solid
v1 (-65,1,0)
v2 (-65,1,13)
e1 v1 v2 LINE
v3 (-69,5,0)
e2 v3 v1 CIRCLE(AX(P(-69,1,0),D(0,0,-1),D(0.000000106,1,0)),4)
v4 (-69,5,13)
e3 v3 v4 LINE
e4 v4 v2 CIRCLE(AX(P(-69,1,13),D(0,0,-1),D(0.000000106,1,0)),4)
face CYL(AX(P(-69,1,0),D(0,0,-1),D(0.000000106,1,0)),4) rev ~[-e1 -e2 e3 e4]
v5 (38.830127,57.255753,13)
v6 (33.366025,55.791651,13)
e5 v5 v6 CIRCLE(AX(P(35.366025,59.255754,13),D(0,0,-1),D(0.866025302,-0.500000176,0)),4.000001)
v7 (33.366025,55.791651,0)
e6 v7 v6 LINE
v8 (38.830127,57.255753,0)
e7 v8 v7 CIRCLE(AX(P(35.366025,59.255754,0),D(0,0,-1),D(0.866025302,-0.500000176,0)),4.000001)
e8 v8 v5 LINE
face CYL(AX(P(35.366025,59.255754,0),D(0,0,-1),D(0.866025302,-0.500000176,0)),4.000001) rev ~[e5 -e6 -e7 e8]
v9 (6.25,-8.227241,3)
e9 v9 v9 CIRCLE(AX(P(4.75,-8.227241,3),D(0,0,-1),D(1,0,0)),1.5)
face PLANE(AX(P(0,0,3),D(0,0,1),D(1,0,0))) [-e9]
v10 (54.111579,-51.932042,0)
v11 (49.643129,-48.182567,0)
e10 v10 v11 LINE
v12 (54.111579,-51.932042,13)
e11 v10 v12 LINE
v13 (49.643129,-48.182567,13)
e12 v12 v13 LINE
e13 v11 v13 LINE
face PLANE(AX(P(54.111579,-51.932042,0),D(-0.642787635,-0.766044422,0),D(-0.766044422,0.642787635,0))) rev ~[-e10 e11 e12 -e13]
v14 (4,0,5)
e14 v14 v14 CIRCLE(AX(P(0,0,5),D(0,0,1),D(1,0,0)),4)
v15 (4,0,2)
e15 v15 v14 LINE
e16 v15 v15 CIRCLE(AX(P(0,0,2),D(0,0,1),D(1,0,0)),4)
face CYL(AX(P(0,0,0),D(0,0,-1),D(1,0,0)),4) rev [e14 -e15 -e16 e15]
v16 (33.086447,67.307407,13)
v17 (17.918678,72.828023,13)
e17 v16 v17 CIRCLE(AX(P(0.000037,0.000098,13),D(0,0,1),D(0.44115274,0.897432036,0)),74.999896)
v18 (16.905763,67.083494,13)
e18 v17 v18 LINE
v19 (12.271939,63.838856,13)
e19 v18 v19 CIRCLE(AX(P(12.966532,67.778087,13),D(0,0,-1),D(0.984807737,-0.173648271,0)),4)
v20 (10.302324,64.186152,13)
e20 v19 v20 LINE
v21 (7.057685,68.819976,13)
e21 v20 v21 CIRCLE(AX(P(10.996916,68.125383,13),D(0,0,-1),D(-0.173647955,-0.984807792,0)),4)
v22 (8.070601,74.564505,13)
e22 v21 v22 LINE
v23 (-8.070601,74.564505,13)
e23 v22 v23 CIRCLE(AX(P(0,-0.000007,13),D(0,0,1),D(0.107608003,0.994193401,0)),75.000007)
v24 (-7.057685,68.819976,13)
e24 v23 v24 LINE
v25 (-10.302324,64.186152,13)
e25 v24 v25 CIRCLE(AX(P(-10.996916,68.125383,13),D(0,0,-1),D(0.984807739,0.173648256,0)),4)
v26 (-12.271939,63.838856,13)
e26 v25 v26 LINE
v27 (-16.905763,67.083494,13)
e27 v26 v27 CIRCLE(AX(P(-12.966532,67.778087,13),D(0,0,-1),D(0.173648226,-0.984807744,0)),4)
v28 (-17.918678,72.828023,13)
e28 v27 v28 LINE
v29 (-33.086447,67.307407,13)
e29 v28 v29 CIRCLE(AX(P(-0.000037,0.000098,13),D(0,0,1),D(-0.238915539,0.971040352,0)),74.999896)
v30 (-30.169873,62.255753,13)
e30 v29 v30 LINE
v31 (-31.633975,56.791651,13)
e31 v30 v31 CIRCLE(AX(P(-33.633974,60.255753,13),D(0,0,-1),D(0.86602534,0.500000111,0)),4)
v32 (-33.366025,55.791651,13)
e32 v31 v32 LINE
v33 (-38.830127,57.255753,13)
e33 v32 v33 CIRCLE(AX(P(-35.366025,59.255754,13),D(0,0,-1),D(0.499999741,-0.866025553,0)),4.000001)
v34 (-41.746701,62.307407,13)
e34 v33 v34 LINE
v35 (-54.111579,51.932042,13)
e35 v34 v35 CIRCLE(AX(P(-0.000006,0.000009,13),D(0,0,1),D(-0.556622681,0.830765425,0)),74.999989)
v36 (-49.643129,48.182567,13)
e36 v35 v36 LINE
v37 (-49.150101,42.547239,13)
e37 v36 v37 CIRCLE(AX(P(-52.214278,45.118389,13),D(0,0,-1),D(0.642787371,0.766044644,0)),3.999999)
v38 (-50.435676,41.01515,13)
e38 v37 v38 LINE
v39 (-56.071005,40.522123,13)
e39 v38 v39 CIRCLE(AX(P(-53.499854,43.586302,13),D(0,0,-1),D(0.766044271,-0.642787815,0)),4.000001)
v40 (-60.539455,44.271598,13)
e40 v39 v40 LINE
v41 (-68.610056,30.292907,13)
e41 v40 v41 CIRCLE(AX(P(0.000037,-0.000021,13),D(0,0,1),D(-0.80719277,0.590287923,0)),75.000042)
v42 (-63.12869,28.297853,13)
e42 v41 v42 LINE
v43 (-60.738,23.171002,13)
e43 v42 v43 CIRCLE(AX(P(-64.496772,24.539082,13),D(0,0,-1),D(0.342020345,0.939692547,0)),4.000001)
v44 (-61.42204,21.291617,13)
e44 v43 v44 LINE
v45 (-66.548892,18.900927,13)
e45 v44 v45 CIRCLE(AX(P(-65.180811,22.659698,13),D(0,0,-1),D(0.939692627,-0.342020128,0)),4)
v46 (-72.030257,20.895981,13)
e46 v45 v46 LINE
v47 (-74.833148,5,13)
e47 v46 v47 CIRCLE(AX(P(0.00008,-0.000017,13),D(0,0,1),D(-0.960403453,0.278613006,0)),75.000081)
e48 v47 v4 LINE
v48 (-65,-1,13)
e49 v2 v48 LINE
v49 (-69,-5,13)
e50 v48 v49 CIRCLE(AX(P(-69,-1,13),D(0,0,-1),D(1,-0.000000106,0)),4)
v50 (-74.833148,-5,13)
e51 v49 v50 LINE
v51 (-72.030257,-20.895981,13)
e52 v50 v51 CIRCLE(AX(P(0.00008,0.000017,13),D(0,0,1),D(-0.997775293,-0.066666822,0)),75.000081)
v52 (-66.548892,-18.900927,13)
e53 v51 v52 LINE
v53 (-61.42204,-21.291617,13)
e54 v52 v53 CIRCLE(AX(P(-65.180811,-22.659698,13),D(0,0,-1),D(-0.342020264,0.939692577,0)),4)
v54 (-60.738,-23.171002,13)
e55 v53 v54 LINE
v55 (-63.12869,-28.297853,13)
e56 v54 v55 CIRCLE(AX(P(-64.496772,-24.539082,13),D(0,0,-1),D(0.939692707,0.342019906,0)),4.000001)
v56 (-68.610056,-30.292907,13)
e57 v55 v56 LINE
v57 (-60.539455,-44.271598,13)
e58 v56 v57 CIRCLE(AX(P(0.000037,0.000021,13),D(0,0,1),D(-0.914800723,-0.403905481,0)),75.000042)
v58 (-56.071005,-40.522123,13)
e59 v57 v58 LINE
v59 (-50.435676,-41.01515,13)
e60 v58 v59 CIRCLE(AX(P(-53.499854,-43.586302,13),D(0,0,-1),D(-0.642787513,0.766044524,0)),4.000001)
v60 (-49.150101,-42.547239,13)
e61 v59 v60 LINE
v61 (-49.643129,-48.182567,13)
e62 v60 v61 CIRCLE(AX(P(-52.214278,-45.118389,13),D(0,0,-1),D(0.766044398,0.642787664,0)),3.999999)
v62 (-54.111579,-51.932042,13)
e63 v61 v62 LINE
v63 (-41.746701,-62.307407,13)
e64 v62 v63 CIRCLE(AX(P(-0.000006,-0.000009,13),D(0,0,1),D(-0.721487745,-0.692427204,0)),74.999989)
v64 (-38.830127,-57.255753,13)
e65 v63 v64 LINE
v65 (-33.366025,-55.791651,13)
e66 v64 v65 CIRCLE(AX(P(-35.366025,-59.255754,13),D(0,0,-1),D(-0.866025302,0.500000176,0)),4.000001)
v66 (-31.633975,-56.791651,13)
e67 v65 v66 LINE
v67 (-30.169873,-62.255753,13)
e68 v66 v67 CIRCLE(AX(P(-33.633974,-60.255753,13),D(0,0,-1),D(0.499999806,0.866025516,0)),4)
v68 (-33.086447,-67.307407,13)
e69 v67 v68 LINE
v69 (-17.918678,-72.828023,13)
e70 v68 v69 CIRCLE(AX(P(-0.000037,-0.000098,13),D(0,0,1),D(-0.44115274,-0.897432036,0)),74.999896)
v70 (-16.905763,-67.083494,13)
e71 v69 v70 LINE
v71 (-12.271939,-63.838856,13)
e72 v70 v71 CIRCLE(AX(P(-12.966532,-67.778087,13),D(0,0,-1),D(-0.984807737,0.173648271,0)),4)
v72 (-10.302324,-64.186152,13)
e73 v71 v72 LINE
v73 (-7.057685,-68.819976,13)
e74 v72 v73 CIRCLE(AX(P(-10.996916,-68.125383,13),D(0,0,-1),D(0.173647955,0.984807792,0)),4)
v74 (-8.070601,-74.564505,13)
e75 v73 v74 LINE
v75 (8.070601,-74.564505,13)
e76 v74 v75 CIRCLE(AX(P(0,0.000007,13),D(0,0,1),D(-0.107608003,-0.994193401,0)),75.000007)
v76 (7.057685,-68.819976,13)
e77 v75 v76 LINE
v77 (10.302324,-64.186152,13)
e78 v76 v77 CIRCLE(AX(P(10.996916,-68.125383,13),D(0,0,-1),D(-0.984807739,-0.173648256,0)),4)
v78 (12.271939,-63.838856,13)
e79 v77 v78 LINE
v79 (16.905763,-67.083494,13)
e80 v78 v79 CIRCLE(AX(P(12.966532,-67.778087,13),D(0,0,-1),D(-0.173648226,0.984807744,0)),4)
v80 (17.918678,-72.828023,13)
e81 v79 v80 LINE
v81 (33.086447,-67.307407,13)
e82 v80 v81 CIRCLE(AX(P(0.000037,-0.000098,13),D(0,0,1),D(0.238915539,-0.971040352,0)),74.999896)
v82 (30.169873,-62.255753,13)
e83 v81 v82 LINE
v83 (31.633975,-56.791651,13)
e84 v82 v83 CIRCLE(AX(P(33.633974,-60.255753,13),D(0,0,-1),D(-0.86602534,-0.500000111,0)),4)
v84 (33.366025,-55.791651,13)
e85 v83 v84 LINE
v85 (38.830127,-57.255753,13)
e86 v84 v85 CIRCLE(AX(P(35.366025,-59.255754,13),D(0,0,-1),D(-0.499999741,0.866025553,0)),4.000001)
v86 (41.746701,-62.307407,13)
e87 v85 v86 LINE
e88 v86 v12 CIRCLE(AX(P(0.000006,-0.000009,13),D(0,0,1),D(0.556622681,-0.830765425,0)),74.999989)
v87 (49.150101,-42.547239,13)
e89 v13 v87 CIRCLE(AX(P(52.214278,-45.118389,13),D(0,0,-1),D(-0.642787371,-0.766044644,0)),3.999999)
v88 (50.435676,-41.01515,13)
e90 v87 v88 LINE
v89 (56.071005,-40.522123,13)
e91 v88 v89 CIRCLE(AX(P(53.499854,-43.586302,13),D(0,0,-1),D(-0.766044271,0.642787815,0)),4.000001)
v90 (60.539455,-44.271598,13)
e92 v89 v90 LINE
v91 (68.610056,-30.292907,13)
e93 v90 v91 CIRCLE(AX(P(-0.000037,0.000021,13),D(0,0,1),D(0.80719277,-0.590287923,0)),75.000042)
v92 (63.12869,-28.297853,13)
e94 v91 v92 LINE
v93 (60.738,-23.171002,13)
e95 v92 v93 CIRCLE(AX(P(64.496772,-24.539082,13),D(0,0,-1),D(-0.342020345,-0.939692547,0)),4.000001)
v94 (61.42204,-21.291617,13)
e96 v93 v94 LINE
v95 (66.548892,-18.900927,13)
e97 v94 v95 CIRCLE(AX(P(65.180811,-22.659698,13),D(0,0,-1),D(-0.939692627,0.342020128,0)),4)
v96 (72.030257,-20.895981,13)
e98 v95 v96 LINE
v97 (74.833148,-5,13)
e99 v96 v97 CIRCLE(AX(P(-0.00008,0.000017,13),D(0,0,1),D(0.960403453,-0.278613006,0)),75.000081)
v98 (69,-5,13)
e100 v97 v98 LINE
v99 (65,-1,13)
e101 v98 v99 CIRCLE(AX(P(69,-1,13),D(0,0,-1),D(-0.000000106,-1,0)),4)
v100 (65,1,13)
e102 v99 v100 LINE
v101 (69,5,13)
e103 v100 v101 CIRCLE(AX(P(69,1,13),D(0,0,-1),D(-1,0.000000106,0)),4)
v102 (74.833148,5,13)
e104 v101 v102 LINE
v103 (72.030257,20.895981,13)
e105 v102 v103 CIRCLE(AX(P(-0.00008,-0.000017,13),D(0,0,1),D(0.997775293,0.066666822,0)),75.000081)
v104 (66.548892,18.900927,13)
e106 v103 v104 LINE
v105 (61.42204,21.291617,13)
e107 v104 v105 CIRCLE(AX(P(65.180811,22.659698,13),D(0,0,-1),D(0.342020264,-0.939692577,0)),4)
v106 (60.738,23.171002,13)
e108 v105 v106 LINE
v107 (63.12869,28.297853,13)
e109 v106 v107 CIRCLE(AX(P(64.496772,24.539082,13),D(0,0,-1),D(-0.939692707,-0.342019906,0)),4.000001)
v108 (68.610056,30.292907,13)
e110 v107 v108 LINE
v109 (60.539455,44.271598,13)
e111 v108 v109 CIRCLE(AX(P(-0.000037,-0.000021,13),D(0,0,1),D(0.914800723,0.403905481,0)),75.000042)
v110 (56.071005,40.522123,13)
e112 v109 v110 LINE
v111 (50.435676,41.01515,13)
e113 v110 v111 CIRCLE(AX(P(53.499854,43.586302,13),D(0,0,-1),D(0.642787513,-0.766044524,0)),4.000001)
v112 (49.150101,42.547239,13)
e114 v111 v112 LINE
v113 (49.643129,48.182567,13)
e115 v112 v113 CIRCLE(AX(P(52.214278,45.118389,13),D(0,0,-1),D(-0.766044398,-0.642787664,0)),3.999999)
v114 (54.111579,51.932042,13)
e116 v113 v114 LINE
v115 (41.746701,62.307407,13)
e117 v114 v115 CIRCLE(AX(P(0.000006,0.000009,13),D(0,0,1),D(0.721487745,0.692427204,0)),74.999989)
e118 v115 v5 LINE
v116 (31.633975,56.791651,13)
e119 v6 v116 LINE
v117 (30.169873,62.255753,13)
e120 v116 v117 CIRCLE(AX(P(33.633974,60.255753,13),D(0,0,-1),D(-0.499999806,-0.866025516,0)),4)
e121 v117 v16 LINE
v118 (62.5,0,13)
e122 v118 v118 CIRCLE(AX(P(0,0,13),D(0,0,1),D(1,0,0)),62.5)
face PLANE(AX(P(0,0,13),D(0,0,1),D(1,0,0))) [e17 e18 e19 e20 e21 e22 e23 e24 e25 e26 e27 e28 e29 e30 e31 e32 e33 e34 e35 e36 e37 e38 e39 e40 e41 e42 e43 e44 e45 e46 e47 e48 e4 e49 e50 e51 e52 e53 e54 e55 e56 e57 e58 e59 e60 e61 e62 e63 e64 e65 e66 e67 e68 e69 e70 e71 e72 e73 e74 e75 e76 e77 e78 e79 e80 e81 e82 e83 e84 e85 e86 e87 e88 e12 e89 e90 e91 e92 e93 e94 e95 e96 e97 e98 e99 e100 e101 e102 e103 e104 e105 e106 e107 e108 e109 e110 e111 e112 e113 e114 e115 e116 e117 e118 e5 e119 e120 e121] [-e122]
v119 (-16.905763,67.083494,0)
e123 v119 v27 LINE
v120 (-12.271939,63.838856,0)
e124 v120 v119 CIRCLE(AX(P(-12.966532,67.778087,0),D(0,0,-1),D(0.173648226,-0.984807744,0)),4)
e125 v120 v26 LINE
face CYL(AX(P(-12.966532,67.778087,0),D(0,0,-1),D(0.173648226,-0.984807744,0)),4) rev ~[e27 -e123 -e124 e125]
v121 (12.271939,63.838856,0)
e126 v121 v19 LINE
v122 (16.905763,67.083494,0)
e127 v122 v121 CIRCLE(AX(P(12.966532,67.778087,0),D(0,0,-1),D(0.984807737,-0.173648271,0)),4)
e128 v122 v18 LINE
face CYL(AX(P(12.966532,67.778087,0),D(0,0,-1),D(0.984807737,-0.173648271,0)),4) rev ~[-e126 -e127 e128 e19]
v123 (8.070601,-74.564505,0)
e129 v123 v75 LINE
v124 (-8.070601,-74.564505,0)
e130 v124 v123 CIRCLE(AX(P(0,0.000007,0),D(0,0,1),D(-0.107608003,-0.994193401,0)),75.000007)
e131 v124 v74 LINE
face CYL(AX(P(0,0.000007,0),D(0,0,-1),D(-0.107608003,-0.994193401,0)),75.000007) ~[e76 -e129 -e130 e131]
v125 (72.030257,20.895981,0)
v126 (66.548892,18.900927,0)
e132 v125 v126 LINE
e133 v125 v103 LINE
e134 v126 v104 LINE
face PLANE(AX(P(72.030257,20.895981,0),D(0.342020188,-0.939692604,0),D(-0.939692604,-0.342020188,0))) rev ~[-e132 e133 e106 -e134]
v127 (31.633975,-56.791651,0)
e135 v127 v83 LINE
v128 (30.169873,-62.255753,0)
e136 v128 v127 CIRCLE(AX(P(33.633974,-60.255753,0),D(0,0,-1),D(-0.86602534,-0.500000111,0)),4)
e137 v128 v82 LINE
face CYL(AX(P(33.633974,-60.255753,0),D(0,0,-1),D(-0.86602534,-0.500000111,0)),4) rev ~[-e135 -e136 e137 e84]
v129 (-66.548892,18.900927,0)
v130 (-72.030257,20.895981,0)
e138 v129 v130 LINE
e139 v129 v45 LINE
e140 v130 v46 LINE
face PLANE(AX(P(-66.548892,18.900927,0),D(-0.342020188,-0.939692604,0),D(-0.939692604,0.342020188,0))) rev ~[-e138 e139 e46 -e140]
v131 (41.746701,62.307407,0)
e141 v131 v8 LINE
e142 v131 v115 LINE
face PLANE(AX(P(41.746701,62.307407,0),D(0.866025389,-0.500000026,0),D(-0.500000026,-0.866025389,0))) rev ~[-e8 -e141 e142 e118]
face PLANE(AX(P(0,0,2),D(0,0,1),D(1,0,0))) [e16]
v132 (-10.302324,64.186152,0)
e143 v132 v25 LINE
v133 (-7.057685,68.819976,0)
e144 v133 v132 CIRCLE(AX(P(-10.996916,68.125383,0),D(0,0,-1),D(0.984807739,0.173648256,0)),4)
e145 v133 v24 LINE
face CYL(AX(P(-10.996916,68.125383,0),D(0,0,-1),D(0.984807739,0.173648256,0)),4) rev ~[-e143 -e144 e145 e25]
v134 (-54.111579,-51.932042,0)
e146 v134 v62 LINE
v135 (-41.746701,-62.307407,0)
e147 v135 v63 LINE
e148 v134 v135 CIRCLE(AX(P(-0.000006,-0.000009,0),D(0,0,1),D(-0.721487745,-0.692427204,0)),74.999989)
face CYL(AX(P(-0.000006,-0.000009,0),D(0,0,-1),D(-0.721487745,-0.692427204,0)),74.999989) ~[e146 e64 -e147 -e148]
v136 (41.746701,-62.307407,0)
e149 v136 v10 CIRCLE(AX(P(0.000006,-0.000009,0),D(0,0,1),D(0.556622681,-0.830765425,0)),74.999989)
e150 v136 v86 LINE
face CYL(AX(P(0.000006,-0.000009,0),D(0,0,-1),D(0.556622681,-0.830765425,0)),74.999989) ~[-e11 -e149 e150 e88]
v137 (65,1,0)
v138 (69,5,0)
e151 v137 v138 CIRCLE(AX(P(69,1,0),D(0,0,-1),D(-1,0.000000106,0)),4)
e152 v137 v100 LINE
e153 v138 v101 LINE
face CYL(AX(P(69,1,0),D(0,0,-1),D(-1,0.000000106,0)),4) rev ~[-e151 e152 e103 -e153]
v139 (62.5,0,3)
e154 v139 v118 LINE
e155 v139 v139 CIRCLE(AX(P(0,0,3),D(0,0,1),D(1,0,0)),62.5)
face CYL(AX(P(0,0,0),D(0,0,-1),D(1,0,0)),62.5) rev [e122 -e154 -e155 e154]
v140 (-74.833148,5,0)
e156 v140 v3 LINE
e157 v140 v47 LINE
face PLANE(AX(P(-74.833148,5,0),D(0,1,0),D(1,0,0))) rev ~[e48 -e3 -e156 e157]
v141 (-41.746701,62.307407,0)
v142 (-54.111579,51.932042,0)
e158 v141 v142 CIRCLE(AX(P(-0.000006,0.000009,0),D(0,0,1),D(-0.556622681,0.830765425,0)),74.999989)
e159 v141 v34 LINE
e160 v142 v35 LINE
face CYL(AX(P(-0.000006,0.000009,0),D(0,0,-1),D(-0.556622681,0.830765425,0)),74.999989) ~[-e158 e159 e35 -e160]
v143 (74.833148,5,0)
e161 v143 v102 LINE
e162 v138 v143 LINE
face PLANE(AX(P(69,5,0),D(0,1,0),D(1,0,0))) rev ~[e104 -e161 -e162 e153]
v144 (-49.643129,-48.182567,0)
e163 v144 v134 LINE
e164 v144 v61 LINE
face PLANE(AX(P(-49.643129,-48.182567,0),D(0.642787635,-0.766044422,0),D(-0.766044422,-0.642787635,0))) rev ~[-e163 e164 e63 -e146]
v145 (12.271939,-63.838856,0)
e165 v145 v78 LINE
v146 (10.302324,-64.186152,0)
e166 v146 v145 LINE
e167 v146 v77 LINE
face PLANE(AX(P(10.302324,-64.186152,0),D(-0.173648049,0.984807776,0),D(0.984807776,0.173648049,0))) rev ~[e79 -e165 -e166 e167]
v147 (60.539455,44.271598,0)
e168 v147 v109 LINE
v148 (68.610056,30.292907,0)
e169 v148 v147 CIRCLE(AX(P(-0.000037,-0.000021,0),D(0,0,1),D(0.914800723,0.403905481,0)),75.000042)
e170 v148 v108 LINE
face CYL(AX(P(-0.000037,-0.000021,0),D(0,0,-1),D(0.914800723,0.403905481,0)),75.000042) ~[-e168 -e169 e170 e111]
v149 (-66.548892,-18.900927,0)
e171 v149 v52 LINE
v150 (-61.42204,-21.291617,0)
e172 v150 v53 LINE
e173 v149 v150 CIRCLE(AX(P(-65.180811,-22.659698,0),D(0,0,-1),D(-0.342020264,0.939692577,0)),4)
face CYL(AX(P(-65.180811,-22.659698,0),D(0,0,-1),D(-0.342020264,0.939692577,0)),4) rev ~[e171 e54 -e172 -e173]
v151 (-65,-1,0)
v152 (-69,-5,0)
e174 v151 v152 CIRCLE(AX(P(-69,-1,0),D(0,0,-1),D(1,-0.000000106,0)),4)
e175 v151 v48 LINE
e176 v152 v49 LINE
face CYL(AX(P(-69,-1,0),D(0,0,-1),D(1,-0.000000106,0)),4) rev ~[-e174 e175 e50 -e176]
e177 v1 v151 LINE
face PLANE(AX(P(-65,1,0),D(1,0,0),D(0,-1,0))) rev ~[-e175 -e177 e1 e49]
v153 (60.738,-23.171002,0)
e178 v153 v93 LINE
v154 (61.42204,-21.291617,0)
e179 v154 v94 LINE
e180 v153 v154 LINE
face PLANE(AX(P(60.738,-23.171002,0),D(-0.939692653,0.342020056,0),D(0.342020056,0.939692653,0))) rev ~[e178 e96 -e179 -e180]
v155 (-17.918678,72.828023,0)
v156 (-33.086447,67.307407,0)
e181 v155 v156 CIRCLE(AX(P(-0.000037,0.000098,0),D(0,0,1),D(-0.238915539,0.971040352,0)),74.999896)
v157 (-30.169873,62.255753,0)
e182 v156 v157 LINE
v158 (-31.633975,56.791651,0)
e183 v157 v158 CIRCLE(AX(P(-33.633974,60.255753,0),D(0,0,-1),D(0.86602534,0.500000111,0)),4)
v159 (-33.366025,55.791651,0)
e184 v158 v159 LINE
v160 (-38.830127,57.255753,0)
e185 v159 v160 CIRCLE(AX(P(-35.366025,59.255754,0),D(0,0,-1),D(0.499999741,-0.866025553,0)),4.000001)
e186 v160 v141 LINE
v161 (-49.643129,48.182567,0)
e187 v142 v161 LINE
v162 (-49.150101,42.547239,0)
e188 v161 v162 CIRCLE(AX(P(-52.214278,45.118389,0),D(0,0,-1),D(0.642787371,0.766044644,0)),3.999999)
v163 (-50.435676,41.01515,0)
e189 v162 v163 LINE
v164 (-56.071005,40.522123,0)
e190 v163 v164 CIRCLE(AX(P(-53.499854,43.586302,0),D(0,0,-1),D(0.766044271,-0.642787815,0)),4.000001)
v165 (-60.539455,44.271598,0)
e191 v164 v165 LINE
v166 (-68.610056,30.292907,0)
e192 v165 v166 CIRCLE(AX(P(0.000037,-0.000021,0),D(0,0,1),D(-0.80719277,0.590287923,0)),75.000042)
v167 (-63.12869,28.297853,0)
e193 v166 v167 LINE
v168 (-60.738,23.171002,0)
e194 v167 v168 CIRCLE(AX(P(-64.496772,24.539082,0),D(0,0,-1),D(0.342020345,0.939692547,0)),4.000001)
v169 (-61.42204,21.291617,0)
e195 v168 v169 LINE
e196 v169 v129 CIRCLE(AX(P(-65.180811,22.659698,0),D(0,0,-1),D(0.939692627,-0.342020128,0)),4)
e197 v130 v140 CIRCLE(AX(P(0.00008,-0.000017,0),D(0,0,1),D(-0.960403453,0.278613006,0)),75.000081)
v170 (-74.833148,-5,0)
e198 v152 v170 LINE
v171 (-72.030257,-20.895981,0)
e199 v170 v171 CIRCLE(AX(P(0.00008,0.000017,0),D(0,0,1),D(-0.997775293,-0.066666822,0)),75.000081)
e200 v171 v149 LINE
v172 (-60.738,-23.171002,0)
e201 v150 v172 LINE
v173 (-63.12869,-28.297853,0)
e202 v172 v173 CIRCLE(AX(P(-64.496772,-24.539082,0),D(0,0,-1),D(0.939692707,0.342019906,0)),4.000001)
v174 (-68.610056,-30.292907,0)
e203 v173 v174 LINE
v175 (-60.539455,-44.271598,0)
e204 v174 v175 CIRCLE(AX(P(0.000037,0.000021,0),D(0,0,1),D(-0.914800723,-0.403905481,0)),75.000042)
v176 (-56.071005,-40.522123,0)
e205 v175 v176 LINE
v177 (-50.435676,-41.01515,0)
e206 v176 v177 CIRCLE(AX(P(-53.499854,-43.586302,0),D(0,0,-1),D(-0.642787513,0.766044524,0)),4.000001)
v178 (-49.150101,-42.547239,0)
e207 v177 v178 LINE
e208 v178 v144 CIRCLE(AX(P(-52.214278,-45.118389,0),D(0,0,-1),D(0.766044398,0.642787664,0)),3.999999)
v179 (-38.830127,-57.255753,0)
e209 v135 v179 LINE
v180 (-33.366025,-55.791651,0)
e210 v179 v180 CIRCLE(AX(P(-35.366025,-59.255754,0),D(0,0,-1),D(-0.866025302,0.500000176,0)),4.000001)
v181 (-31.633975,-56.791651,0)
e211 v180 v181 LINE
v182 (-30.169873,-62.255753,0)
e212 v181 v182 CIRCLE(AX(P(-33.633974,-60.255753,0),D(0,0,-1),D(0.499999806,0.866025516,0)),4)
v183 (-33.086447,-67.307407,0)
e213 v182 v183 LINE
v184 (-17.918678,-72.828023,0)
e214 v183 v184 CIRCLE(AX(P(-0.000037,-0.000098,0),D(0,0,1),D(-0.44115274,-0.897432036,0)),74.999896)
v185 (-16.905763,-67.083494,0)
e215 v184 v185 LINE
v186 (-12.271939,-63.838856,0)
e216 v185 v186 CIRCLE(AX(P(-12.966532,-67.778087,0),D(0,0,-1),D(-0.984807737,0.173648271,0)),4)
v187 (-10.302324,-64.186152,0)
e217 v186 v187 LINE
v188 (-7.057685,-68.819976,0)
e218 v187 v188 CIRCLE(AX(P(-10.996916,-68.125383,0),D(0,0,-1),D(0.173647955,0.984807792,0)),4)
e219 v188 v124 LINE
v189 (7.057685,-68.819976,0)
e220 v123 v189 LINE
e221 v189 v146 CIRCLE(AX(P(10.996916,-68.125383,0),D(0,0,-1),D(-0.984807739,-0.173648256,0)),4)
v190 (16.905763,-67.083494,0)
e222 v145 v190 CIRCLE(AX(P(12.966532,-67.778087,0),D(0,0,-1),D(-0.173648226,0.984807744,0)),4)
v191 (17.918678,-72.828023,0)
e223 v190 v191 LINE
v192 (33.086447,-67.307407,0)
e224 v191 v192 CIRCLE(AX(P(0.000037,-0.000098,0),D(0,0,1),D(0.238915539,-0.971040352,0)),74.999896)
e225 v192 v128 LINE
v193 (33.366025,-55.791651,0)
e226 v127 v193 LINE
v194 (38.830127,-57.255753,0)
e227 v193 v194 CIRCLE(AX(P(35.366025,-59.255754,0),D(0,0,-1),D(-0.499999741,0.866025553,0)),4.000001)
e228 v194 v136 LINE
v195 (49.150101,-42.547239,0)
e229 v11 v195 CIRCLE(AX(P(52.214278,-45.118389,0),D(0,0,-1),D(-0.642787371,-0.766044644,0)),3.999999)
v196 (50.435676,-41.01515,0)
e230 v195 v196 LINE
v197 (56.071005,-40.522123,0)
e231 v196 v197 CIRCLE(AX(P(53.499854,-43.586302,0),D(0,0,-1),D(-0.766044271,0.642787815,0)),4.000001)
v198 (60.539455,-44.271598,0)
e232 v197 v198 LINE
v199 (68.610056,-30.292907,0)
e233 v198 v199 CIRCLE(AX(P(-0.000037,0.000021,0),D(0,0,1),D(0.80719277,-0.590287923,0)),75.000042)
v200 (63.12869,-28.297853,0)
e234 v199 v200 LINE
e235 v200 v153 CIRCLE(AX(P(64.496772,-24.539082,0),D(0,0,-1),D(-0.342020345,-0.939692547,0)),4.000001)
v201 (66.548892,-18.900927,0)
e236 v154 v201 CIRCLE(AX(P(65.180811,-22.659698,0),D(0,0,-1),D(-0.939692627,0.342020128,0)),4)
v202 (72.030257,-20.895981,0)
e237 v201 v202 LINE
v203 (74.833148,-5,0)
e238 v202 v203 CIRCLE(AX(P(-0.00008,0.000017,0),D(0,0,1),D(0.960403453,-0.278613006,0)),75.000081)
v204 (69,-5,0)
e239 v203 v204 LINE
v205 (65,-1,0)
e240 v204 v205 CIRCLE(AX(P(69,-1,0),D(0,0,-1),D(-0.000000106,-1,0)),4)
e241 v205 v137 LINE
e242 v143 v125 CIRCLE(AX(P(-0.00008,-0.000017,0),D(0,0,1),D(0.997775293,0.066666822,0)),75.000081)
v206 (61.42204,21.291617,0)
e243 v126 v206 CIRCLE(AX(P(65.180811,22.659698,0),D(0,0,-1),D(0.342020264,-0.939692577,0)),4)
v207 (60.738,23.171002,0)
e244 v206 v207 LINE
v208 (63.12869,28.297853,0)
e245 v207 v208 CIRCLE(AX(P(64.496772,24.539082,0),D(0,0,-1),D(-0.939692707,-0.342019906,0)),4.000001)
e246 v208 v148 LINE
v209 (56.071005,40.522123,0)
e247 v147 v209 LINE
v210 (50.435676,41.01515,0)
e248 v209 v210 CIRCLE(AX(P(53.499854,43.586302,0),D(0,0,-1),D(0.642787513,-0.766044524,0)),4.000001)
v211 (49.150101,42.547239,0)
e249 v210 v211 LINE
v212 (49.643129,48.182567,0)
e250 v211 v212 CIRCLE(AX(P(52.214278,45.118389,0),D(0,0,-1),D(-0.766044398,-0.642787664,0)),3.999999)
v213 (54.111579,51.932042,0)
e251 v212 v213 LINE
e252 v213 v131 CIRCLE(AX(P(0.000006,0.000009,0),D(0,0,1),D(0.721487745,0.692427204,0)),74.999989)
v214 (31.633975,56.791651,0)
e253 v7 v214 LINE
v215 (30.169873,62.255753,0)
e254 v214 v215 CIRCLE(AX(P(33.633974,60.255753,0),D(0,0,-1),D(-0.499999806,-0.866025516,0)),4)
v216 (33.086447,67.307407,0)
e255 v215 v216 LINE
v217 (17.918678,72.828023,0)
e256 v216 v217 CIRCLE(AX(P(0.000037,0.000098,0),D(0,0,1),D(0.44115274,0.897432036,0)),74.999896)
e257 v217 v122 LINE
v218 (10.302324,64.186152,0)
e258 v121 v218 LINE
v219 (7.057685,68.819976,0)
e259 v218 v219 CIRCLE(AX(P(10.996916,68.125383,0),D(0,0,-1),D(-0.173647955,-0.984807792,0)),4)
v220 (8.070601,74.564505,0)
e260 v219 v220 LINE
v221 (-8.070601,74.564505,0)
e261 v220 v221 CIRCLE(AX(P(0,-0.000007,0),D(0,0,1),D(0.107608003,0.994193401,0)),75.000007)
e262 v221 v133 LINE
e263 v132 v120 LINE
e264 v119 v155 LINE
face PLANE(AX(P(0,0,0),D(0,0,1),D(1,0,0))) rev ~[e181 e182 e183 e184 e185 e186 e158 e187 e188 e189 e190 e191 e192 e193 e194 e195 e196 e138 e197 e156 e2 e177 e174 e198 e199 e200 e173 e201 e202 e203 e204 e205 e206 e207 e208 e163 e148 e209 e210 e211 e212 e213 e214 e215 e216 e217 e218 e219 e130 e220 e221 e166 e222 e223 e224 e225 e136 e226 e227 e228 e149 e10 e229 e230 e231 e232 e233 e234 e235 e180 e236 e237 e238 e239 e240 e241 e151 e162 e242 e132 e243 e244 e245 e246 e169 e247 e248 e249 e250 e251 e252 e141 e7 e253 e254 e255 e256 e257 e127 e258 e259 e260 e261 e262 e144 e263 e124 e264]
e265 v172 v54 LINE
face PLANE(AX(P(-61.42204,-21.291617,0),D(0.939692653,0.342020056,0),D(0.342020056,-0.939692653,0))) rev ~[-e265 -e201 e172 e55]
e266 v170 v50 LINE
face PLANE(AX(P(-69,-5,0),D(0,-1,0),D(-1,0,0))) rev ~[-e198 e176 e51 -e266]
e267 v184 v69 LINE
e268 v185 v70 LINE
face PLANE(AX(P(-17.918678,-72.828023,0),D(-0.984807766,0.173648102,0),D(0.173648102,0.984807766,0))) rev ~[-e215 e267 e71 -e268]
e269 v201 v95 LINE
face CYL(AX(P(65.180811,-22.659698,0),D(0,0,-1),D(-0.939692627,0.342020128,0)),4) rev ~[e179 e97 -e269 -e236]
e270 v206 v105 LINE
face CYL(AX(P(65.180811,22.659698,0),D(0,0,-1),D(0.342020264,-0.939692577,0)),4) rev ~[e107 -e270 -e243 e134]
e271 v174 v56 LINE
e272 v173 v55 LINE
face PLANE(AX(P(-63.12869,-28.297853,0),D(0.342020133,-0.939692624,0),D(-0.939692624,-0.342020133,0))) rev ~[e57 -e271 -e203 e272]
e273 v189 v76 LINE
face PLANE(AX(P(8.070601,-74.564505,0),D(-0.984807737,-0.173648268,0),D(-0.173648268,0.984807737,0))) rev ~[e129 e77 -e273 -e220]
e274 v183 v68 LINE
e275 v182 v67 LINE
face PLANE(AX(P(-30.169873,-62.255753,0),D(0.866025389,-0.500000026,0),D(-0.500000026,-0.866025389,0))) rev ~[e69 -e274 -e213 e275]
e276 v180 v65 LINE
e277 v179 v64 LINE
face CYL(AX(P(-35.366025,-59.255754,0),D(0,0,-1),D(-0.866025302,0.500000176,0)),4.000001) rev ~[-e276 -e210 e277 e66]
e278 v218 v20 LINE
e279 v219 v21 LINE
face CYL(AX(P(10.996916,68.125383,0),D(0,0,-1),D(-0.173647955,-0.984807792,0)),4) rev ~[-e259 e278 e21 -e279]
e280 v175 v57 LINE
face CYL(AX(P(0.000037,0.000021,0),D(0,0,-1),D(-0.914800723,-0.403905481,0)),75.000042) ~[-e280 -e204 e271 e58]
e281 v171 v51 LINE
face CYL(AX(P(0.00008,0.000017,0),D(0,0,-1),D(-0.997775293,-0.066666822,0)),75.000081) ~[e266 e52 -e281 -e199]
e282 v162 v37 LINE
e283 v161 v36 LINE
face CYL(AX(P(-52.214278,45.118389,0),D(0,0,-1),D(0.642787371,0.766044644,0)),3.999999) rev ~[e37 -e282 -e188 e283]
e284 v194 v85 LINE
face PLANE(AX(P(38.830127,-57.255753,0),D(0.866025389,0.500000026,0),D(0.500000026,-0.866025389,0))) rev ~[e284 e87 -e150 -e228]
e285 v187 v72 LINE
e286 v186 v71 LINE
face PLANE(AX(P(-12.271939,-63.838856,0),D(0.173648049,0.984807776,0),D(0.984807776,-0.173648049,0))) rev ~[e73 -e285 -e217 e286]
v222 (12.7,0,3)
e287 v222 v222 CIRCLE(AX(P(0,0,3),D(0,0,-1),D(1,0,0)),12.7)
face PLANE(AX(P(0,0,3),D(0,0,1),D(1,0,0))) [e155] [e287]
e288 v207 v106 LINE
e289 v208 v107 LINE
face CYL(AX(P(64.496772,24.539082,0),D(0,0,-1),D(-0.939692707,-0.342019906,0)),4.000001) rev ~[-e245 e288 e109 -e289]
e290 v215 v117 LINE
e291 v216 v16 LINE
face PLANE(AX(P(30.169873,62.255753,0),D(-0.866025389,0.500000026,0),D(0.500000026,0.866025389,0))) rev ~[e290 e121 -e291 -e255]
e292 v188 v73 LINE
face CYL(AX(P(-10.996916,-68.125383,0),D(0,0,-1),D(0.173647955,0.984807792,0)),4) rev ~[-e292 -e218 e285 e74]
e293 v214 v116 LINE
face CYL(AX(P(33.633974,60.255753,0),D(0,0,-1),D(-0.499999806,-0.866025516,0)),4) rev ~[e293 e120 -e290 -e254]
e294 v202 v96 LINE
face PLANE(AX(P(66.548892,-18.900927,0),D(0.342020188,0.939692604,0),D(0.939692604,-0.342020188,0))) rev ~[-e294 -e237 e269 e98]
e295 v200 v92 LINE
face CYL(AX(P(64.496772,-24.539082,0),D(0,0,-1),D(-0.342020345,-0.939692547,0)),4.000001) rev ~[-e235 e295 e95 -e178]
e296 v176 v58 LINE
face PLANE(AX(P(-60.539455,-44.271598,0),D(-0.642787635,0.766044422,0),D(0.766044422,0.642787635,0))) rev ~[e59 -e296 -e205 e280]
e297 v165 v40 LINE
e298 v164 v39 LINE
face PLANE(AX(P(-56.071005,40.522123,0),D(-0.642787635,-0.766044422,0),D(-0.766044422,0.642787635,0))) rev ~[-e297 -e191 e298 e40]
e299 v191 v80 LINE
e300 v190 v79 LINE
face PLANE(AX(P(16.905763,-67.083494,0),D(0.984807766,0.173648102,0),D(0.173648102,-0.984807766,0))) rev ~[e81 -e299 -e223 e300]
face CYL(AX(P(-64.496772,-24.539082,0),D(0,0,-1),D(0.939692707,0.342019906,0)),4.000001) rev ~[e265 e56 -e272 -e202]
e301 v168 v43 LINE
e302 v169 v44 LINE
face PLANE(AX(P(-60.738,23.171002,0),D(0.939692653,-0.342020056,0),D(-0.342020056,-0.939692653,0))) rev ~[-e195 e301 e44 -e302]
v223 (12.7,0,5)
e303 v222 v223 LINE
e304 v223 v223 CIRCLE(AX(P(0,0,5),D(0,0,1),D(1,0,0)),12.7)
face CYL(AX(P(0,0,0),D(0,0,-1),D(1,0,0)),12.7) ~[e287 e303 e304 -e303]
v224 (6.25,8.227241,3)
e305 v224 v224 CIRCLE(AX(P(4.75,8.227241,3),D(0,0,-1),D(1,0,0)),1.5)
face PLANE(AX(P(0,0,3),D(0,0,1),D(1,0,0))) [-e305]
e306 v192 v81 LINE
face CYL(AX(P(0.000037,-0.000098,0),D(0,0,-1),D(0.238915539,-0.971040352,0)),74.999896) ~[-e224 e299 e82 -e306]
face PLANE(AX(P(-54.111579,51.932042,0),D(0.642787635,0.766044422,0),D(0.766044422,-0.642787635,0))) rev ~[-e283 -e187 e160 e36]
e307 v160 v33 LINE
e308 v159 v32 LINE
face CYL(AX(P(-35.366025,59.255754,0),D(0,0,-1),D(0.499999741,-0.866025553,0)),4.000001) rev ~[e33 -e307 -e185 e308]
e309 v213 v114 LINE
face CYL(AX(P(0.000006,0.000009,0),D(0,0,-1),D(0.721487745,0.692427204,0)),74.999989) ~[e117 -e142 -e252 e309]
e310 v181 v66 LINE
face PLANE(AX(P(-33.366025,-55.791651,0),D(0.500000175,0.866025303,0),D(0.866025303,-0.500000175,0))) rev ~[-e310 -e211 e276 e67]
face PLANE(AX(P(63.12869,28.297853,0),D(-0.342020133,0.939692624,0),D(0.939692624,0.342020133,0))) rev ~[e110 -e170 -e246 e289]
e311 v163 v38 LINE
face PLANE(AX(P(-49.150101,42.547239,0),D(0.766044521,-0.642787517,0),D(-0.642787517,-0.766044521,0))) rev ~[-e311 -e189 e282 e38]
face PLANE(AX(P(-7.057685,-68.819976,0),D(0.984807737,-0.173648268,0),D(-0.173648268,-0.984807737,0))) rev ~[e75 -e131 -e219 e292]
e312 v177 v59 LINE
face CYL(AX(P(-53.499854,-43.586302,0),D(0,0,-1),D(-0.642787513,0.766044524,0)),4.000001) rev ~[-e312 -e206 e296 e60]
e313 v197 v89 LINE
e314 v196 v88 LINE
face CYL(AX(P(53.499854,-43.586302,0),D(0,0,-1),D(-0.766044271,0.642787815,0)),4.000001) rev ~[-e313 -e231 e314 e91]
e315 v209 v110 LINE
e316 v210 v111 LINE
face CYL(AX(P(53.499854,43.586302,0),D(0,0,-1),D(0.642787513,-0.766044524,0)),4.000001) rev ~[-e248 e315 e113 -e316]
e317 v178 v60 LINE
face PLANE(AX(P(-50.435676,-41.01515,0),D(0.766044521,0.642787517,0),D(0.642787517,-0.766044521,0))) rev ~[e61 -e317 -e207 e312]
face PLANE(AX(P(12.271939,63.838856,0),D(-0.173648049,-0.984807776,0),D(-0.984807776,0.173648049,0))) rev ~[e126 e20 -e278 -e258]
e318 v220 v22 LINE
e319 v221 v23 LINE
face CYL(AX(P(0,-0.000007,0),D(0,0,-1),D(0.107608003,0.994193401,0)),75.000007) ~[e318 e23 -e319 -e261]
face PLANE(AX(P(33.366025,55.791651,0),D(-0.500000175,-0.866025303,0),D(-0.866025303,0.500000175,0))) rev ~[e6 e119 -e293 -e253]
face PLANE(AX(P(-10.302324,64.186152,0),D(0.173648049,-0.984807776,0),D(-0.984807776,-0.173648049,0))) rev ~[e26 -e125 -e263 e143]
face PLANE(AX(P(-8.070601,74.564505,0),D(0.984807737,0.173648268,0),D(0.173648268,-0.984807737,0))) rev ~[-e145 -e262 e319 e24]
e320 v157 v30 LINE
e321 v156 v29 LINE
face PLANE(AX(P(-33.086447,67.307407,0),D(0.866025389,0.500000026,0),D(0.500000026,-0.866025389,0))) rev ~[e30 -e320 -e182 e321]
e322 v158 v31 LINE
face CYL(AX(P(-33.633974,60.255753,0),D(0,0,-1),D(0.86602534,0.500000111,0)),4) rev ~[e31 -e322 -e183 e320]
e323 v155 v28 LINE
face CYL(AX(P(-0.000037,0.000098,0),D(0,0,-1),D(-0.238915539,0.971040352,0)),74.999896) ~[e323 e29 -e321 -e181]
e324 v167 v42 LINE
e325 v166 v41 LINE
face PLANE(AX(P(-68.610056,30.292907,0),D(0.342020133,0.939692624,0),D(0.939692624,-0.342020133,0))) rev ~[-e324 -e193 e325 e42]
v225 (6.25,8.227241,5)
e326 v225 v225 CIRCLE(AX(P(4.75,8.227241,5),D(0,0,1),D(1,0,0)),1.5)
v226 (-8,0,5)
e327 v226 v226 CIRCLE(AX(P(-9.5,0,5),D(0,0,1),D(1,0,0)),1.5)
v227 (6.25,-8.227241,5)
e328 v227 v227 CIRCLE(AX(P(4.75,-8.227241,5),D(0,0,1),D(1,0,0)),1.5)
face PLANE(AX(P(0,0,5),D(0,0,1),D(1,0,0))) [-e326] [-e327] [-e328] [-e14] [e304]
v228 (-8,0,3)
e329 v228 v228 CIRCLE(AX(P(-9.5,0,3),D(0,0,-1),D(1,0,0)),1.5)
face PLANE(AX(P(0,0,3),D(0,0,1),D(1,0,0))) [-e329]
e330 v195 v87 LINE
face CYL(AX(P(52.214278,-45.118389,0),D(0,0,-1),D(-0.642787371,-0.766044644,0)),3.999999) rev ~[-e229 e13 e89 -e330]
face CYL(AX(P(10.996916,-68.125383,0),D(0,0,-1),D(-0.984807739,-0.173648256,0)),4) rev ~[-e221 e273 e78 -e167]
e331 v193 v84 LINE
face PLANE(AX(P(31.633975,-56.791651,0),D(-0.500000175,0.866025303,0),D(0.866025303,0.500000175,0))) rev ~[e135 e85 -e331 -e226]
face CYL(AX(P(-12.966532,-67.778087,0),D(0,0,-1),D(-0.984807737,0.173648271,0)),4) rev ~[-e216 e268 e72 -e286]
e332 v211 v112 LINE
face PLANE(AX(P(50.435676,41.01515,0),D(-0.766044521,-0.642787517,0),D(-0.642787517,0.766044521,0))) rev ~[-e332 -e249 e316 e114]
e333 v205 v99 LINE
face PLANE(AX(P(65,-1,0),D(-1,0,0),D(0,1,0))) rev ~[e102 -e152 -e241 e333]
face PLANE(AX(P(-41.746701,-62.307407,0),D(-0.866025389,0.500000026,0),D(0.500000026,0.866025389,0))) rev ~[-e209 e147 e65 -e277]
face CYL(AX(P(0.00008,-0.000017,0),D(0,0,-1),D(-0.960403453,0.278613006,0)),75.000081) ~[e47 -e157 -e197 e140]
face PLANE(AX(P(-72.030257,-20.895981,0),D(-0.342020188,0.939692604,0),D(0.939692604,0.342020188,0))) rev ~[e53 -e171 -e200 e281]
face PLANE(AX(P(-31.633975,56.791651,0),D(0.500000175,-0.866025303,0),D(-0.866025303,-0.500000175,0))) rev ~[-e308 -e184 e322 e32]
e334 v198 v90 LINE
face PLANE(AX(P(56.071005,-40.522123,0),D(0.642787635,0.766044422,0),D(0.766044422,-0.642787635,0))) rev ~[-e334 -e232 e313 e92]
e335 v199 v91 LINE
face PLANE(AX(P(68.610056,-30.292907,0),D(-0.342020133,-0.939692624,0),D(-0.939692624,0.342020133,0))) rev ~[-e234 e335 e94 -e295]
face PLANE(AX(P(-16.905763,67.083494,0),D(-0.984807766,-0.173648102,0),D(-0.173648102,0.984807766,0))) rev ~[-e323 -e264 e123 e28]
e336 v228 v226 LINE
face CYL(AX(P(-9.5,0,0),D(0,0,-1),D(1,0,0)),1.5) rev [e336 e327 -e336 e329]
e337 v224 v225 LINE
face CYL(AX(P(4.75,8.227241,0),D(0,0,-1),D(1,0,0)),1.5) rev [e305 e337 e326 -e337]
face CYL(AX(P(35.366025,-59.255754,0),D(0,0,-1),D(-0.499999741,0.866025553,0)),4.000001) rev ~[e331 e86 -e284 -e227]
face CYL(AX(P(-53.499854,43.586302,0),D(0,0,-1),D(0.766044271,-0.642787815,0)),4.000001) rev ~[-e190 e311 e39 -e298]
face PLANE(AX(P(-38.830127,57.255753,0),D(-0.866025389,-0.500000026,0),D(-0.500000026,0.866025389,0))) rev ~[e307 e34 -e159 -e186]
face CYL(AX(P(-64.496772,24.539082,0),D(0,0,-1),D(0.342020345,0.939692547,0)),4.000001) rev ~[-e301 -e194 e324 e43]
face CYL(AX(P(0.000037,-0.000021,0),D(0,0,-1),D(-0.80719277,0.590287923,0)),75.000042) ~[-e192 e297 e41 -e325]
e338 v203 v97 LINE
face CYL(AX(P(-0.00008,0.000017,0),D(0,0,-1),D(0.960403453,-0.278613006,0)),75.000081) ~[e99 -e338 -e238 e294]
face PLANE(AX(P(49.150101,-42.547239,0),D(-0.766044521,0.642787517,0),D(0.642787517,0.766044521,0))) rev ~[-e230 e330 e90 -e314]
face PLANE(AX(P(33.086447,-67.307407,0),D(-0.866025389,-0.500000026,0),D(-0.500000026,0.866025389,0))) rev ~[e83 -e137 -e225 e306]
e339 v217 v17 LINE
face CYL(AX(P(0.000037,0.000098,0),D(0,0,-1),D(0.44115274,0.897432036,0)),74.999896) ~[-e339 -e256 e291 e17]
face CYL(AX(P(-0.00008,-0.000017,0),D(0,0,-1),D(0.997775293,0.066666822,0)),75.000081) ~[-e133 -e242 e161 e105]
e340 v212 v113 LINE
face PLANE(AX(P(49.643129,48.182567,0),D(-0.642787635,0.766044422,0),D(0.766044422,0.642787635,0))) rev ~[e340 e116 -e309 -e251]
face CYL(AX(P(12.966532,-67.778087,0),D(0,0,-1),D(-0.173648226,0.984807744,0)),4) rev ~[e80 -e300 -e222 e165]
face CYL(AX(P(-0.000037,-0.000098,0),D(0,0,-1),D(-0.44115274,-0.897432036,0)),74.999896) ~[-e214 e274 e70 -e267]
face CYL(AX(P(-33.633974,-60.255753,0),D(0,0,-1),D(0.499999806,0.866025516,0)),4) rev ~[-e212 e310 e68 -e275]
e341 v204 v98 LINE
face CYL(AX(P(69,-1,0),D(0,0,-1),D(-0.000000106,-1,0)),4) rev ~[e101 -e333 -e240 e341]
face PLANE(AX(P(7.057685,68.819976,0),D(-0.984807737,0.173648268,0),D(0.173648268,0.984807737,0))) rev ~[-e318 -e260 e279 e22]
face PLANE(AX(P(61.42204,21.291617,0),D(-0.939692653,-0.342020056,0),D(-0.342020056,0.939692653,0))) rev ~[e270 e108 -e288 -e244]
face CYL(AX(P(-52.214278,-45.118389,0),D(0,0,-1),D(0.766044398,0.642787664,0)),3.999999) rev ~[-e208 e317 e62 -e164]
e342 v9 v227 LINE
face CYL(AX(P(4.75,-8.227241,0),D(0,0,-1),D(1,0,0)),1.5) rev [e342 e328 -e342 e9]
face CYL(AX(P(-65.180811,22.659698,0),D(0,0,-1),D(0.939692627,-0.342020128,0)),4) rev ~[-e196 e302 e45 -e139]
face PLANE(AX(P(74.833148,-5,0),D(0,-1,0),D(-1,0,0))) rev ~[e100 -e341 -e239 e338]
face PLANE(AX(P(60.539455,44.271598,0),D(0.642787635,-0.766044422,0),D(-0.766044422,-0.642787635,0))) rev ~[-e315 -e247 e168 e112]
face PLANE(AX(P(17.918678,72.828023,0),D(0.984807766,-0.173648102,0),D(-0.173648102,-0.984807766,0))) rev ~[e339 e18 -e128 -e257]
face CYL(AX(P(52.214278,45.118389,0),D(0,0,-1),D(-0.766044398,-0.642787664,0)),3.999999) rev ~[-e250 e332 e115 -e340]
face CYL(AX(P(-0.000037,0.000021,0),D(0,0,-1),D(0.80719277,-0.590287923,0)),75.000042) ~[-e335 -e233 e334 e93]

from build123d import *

# Parameters (mm, degrees)
F0_R     = 62.5
F0_R_2   = 12.7
F0_R_3   = 1.5
F0_R_4   = 4
F1_DEPTH = 3
F2_DEPTH = 13
F3_DEPTH = 5
F4_DEPTH = 2


with BuildPart() as f1:
    # F0 (on Top) → F1 (new body)
    with BuildSketch(Plane.XY):
        Circle(F0_R)
        Circle(F0_R_2, mode=Mode.SUBTRACT)
        Circle(F0_R_2)
        with Locations((-4.75, -8.227241)):
            Circle(F0_R_3, mode=Mode.SUBTRACT)
        with Locations((4.75, -8.227241)):
            Circle(F0_R_3, mode=Mode.SUBTRACT)
        with Locations((-9.5, 0)):
            Circle(F0_R_3, mode=Mode.SUBTRACT)
        with Locations((-4.75, 8.227241)):
            Circle(F0_R_3, mode=Mode.SUBTRACT)
        Circle(F0_R_4, mode=Mode.SUBTRACT)
        with Locations((4.75, 8.227241)):
            Circle(F0_R_3, mode=Mode.SUBTRACT)
        with Locations((9.5, 0)):
            Circle(F0_R_3, mode=Mode.SUBTRACT)
        with Locations((9.5, 0)):
            Circle(F0_R_3)
        with Locations((4.75, 8.227241)):
            Circle(F0_R_3)
        with Locations((-4.75, 8.227241)):
            Circle(F0_R_3)
        with Locations((-9.5, 0)):
            Circle(F0_R_3)
        with Locations((-4.75, -8.227241)):
            Circle(F0_R_3)
        with Locations((4.75, -8.227241)):
            Circle(F0_R_3)
    extrude(amount=F1_DEPTH)

    # F0 (on Top) → F2 (join)
    with BuildSketch(Plane.XY):
        with BuildLine():
            Line((69, 5), (74.833148, 5))
            ThreePointArc((74.833148, 5), (73.860581, 13.023613), (72.030257, 20.895981))
            Line((72.030257, 20.895981), (66.548892, 18.900927))
            ThreePointArc((66.548892, 18.900927), (63.490338, 19.034466), (61.42204, 21.291617))
            Line((61.42204, 21.291617), (60.738, 23.171002))
            ThreePointArc((60.738, 23.171002), (60.87154, 26.229556), (63.12869, 28.297853))
            Line((63.12869, 28.297853), (68.610056, 30.292907))
            ThreePointArc((68.610056, 30.292907), (64.951905, 37.5), (60.539455, 44.271598))
            Line((60.539455, 44.271598), (56.071005, 40.522123))
            ThreePointArc((56.071005, 40.522123), (53.151231, 39.601522), (50.435676, 41.01515))
            Line((50.435676, 41.01515), (49.150101, 42.547239))
            ThreePointArc((49.150101, 42.547239), (48.2295, 45.467012), (49.643129, 48.182567))
            Line((49.643129, 48.182567), (54.111579, 51.932042))
            ThreePointArc((54.111579, 51.932042), (48.209071, 57.453333), (41.746701, 62.307407))
            Line((41.746701, 62.307407), (38.830127, 57.255753))
            ThreePointArc((38.830127, 57.255753), (36.401302, 55.39205), (33.366025, 55.791651))
            Line((33.366025, 55.791651), (31.633975, 56.791651))
            ThreePointArc((31.633975, 56.791651), (29.770271, 59.220477), (30.169873, 62.255753))
            Line((30.169873, 62.255753), (33.086447, 67.307407))
            ThreePointArc((33.086447, 67.307407), (25.651511, 70.476947), (17.918678, 72.828023))
            Line((17.918678, 72.828023), (16.905763, 67.083494))
            ThreePointArc((16.905763, 67.083494), (15.260838, 64.501479), (12.271939, 63.838856))
            Line((12.271939, 63.838856), (10.302324, 64.186152))
            ThreePointArc((10.302324, 64.186152), (7.720308, 65.831077), (7.057685, 68.819976))
            Line((7.057685, 68.819976), (8.070601, 74.564505))
            ThreePointArc((8.070601, 74.564505), (0, 75), (-8.070601, 74.564505))
            Line((-8.070601, 74.564505), (-7.057685, 68.819976))
            ThreePointArc((-7.057685, 68.819976), (-7.720308, 65.831077), (-10.302324, 64.186152))
            Line((-10.302324, 64.186152), (-12.271939, 63.838856))
            ThreePointArc((-12.271939, 63.838856), (-15.260838, 64.501479), (-16.905763, 67.083494))
            Line((-16.905763, 67.083494), (-17.918678, 72.828023))
            ThreePointArc((-17.918678, 72.828023), (-25.651511, 70.476947), (-33.086447, 67.307407))
            Line((-33.086447, 67.307407), (-30.169873, 62.255753))
            ThreePointArc((-30.169873, 62.255753), (-29.770271, 59.220477), (-31.633975, 56.791651))
            Line((-31.633975, 56.791651), (-33.366025, 55.791651))
            ThreePointArc((-33.366025, 55.791651), (-36.401302, 55.39205), (-38.830127, 57.255753))
            Line((-38.830127, 57.255753), (-41.746701, 62.307407))
            ThreePointArc((-41.746701, 62.307407), (-48.209071, 57.453333), (-54.111579, 51.932042))
            Line((-54.111579, 51.932042), (-49.643129, 48.182567))
            ThreePointArc((-49.643129, 48.182567), (-48.2295, 45.467012), (-49.150101, 42.547239))
            Line((-49.150101, 42.547239), (-50.435676, 41.01515))
            ThreePointArc((-50.435676, 41.01515), (-53.151231, 39.601522), (-56.071005, 40.522123))
            Line((-56.071005, 40.522123), (-60.539455, 44.271598))
            ThreePointArc((-60.539455, 44.271598), (-64.951905, 37.5), (-68.610056, 30.292907))
            Line((-68.610056, 30.292907), (-63.12869, 28.297853))
            ThreePointArc((-63.12869, 28.297853), (-60.87154, 26.229556), (-60.738, 23.171002))
            Line((-60.738, 23.171002), (-61.42204, 21.291617))
            ThreePointArc((-61.42204, 21.291617), (-63.490338, 19.034466), (-66.548892, 18.900927))
            Line((-66.548892, 18.900927), (-72.030257, 20.895981))
            ThreePointArc((-72.030257, 20.895981), (-73.860581, 13.023613), (-74.833148, 5))
            Line((-74.833148, 5), (-69, 5))
            ThreePointArc((-69, 5), (-66.171573, 3.828427), (-65, 1))
            Line((-65, 1), (-65, -1))
            ThreePointArc((-65, -1), (-66.171573, -3.828427), (-69, -5))
            Line((-69, -5), (-74.833148, -5))
            ThreePointArc((-74.833148, -5), (-73.860581, -13.023613), (-72.030257, -20.895981))
            Line((-72.030257, -20.895981), (-66.548892, -18.900927))
            ThreePointArc((-66.548892, -18.900927), (-63.490338, -19.034466), (-61.42204, -21.291617))
            Line((-61.42204, -21.291617), (-60.738, -23.171002))
            ThreePointArc((-60.738, -23.171002), (-60.87154, -26.229556), (-63.12869, -28.297853))
            Line((-63.12869, -28.297853), (-68.610056, -30.292907))
            ThreePointArc((-68.610056, -30.292907), (-64.951905, -37.5), (-60.539455, -44.271598))
            Line((-60.539455, -44.271598), (-56.071005, -40.522123))
            ThreePointArc((-56.071005, -40.522123), (-53.151231, -39.601522), (-50.435676, -41.01515))
            Line((-50.435676, -41.01515), (-49.150101, -42.547239))
            ThreePointArc((-49.150101, -42.547239), (-48.2295, -45.467012), (-49.643129, -48.182567))
            Line((-49.643129, -48.182567), (-54.111579, -51.932042))
            ThreePointArc((-54.111579, -51.932042), (-48.209071, -57.453333), (-41.746701, -62.307407))
            Line((-41.746701, -62.307407), (-38.830127, -57.255753))
            ThreePointArc((-38.830127, -57.255753), (-36.401302, -55.39205), (-33.366025, -55.791651))
            Line((-33.366025, -55.791651), (-31.633975, -56.791651))
            ThreePointArc((-31.633975, -56.791651), (-29.770271, -59.220477), (-30.169873, -62.255753))
            Line((-30.169873, -62.255753), (-33.086447, -67.307407))
            ThreePointArc((-33.086447, -67.307407), (-25.651511, -70.476947), (-17.918678, -72.828023))
            Line((-17.918678, -72.828023), (-16.905763, -67.083494))
            ThreePointArc((-16.905763, -67.083494), (-15.260838, -64.501479), (-12.271939, -63.838856))
            Line((-12.271939, -63.838856), (-10.302324, -64.186152))
            ThreePointArc((-10.302324, -64.186152), (-7.720308, -65.831077), (-7.057685, -68.819976))
            Line((-7.057685, -68.819976), (-8.070601, -74.564505))
            ThreePointArc((-8.070601, -74.564505), (0, -75), (8.070601, -74.564505))
            Line((8.070601, -74.564505), (7.057685, -68.819976))
            ThreePointArc((7.057685, -68.819976), (7.720308, -65.831077), (10.302324, -64.186152))
            Line((10.302324, -64.186152), (12.271939, -63.838856))
            ThreePointArc((12.271939, -63.838856), (15.260838, -64.501479), (16.905763, -67.083494))
            Line((16.905763, -67.083494), (17.918678, -72.828023))
            ThreePointArc((17.918678, -72.828023), (25.651511, -70.476947), (33.086447, -67.307407))
            Line((33.086447, -67.307407), (30.169873, -62.255753))
            ThreePointArc((30.169873, -62.255753), (29.770271, -59.220477), (31.633975, -56.791651))
            Line((31.633975, -56.791651), (33.366025, -55.791651))
            ThreePointArc((33.366025, -55.791651), (36.401302, -55.39205), (38.830127, -57.255753))
            Line((38.830127, -57.255753), (41.746701, -62.307407))
            ThreePointArc((41.746701, -62.307407), (48.209071, -57.453333), (54.111579, -51.932042))
            Line((54.111579, -51.932042), (49.643129, -48.182567))
            ThreePointArc((49.643129, -48.182567), (48.2295, -45.467012), (49.150101, -42.547239))
            Line((49.150101, -42.547239), (50.435676, -41.01515))
            ThreePointArc((50.435676, -41.01515), (53.151231, -39.601522), (56.071005, -40.522123))
            Line((56.071005, -40.522123), (60.539455, -44.271598))
            ThreePointArc((60.539455, -44.271598), (64.951905, -37.5), (68.610056, -30.292907))
            Line((68.610056, -30.292907), (63.12869, -28.297853))
            ThreePointArc((63.12869, -28.297853), (60.87154, -26.229556), (60.738, -23.171002))
            Line((60.738, -23.171002), (61.42204, -21.291617))
            ThreePointArc((61.42204, -21.291617), (63.490338, -19.034466), (66.548892, -18.900927))
            Line((66.548892, -18.900927), (72.030257, -20.895981))
            ThreePointArc((72.030257, -20.895981), (73.860581, -13.023613), (74.833148, -5))
            Line((74.833148, -5), (69, -5))
            ThreePointArc((69, -5), (66.171573, -3.828427), (65, -1))
            Line((65, -1), (65, 1))
            ThreePointArc((65, 1), (66.171573, 3.828427), (69, 5))
        make_face()
        Circle(F0_R, mode=Mode.SUBTRACT)
    extrude(amount=F2_DEPTH)

    # F0 (on Top) → F3 (join)
    with BuildSketch(Plane.XY):
        Circle(F0_R_2)
        with Locations((-4.75, -8.227241)):
            Circle(F0_R_3, mode=Mode.SUBTRACT)
        with Locations((4.75, -8.227241)):
            Circle(F0_R_3, mode=Mode.SUBTRACT)
        with Locations((-9.5, 0)):
            Circle(F0_R_3, mode=Mode.SUBTRACT)
        with Locations((-4.75, 8.227241)):
            Circle(F0_R_3, mode=Mode.SUBTRACT)
        Circle(F0_R_4, mode=Mode.SUBTRACT)
        with Locations((4.75, 8.227241)):
            Circle(F0_R_3, mode=Mode.SUBTRACT)
        with Locations((9.5, 0)):
            Circle(F0_R_3, mode=Mode.SUBTRACT)
        with Locations((-4.75, 8.227241)):
            Circle(F0_R_3)
        with Locations((9.5, 0)):
            Circle(F0_R_3)
        with Locations((-4.75, -8.227241)):
            Circle(F0_R_3)
    extrude(amount=F3_DEPTH)

    # F0 (on Top) → F4 (join)
    with BuildSketch(Plane.XY):
        Circle(F0_R_4)
    extrude(amount=F4_DEPTH)


solid = f1.part
